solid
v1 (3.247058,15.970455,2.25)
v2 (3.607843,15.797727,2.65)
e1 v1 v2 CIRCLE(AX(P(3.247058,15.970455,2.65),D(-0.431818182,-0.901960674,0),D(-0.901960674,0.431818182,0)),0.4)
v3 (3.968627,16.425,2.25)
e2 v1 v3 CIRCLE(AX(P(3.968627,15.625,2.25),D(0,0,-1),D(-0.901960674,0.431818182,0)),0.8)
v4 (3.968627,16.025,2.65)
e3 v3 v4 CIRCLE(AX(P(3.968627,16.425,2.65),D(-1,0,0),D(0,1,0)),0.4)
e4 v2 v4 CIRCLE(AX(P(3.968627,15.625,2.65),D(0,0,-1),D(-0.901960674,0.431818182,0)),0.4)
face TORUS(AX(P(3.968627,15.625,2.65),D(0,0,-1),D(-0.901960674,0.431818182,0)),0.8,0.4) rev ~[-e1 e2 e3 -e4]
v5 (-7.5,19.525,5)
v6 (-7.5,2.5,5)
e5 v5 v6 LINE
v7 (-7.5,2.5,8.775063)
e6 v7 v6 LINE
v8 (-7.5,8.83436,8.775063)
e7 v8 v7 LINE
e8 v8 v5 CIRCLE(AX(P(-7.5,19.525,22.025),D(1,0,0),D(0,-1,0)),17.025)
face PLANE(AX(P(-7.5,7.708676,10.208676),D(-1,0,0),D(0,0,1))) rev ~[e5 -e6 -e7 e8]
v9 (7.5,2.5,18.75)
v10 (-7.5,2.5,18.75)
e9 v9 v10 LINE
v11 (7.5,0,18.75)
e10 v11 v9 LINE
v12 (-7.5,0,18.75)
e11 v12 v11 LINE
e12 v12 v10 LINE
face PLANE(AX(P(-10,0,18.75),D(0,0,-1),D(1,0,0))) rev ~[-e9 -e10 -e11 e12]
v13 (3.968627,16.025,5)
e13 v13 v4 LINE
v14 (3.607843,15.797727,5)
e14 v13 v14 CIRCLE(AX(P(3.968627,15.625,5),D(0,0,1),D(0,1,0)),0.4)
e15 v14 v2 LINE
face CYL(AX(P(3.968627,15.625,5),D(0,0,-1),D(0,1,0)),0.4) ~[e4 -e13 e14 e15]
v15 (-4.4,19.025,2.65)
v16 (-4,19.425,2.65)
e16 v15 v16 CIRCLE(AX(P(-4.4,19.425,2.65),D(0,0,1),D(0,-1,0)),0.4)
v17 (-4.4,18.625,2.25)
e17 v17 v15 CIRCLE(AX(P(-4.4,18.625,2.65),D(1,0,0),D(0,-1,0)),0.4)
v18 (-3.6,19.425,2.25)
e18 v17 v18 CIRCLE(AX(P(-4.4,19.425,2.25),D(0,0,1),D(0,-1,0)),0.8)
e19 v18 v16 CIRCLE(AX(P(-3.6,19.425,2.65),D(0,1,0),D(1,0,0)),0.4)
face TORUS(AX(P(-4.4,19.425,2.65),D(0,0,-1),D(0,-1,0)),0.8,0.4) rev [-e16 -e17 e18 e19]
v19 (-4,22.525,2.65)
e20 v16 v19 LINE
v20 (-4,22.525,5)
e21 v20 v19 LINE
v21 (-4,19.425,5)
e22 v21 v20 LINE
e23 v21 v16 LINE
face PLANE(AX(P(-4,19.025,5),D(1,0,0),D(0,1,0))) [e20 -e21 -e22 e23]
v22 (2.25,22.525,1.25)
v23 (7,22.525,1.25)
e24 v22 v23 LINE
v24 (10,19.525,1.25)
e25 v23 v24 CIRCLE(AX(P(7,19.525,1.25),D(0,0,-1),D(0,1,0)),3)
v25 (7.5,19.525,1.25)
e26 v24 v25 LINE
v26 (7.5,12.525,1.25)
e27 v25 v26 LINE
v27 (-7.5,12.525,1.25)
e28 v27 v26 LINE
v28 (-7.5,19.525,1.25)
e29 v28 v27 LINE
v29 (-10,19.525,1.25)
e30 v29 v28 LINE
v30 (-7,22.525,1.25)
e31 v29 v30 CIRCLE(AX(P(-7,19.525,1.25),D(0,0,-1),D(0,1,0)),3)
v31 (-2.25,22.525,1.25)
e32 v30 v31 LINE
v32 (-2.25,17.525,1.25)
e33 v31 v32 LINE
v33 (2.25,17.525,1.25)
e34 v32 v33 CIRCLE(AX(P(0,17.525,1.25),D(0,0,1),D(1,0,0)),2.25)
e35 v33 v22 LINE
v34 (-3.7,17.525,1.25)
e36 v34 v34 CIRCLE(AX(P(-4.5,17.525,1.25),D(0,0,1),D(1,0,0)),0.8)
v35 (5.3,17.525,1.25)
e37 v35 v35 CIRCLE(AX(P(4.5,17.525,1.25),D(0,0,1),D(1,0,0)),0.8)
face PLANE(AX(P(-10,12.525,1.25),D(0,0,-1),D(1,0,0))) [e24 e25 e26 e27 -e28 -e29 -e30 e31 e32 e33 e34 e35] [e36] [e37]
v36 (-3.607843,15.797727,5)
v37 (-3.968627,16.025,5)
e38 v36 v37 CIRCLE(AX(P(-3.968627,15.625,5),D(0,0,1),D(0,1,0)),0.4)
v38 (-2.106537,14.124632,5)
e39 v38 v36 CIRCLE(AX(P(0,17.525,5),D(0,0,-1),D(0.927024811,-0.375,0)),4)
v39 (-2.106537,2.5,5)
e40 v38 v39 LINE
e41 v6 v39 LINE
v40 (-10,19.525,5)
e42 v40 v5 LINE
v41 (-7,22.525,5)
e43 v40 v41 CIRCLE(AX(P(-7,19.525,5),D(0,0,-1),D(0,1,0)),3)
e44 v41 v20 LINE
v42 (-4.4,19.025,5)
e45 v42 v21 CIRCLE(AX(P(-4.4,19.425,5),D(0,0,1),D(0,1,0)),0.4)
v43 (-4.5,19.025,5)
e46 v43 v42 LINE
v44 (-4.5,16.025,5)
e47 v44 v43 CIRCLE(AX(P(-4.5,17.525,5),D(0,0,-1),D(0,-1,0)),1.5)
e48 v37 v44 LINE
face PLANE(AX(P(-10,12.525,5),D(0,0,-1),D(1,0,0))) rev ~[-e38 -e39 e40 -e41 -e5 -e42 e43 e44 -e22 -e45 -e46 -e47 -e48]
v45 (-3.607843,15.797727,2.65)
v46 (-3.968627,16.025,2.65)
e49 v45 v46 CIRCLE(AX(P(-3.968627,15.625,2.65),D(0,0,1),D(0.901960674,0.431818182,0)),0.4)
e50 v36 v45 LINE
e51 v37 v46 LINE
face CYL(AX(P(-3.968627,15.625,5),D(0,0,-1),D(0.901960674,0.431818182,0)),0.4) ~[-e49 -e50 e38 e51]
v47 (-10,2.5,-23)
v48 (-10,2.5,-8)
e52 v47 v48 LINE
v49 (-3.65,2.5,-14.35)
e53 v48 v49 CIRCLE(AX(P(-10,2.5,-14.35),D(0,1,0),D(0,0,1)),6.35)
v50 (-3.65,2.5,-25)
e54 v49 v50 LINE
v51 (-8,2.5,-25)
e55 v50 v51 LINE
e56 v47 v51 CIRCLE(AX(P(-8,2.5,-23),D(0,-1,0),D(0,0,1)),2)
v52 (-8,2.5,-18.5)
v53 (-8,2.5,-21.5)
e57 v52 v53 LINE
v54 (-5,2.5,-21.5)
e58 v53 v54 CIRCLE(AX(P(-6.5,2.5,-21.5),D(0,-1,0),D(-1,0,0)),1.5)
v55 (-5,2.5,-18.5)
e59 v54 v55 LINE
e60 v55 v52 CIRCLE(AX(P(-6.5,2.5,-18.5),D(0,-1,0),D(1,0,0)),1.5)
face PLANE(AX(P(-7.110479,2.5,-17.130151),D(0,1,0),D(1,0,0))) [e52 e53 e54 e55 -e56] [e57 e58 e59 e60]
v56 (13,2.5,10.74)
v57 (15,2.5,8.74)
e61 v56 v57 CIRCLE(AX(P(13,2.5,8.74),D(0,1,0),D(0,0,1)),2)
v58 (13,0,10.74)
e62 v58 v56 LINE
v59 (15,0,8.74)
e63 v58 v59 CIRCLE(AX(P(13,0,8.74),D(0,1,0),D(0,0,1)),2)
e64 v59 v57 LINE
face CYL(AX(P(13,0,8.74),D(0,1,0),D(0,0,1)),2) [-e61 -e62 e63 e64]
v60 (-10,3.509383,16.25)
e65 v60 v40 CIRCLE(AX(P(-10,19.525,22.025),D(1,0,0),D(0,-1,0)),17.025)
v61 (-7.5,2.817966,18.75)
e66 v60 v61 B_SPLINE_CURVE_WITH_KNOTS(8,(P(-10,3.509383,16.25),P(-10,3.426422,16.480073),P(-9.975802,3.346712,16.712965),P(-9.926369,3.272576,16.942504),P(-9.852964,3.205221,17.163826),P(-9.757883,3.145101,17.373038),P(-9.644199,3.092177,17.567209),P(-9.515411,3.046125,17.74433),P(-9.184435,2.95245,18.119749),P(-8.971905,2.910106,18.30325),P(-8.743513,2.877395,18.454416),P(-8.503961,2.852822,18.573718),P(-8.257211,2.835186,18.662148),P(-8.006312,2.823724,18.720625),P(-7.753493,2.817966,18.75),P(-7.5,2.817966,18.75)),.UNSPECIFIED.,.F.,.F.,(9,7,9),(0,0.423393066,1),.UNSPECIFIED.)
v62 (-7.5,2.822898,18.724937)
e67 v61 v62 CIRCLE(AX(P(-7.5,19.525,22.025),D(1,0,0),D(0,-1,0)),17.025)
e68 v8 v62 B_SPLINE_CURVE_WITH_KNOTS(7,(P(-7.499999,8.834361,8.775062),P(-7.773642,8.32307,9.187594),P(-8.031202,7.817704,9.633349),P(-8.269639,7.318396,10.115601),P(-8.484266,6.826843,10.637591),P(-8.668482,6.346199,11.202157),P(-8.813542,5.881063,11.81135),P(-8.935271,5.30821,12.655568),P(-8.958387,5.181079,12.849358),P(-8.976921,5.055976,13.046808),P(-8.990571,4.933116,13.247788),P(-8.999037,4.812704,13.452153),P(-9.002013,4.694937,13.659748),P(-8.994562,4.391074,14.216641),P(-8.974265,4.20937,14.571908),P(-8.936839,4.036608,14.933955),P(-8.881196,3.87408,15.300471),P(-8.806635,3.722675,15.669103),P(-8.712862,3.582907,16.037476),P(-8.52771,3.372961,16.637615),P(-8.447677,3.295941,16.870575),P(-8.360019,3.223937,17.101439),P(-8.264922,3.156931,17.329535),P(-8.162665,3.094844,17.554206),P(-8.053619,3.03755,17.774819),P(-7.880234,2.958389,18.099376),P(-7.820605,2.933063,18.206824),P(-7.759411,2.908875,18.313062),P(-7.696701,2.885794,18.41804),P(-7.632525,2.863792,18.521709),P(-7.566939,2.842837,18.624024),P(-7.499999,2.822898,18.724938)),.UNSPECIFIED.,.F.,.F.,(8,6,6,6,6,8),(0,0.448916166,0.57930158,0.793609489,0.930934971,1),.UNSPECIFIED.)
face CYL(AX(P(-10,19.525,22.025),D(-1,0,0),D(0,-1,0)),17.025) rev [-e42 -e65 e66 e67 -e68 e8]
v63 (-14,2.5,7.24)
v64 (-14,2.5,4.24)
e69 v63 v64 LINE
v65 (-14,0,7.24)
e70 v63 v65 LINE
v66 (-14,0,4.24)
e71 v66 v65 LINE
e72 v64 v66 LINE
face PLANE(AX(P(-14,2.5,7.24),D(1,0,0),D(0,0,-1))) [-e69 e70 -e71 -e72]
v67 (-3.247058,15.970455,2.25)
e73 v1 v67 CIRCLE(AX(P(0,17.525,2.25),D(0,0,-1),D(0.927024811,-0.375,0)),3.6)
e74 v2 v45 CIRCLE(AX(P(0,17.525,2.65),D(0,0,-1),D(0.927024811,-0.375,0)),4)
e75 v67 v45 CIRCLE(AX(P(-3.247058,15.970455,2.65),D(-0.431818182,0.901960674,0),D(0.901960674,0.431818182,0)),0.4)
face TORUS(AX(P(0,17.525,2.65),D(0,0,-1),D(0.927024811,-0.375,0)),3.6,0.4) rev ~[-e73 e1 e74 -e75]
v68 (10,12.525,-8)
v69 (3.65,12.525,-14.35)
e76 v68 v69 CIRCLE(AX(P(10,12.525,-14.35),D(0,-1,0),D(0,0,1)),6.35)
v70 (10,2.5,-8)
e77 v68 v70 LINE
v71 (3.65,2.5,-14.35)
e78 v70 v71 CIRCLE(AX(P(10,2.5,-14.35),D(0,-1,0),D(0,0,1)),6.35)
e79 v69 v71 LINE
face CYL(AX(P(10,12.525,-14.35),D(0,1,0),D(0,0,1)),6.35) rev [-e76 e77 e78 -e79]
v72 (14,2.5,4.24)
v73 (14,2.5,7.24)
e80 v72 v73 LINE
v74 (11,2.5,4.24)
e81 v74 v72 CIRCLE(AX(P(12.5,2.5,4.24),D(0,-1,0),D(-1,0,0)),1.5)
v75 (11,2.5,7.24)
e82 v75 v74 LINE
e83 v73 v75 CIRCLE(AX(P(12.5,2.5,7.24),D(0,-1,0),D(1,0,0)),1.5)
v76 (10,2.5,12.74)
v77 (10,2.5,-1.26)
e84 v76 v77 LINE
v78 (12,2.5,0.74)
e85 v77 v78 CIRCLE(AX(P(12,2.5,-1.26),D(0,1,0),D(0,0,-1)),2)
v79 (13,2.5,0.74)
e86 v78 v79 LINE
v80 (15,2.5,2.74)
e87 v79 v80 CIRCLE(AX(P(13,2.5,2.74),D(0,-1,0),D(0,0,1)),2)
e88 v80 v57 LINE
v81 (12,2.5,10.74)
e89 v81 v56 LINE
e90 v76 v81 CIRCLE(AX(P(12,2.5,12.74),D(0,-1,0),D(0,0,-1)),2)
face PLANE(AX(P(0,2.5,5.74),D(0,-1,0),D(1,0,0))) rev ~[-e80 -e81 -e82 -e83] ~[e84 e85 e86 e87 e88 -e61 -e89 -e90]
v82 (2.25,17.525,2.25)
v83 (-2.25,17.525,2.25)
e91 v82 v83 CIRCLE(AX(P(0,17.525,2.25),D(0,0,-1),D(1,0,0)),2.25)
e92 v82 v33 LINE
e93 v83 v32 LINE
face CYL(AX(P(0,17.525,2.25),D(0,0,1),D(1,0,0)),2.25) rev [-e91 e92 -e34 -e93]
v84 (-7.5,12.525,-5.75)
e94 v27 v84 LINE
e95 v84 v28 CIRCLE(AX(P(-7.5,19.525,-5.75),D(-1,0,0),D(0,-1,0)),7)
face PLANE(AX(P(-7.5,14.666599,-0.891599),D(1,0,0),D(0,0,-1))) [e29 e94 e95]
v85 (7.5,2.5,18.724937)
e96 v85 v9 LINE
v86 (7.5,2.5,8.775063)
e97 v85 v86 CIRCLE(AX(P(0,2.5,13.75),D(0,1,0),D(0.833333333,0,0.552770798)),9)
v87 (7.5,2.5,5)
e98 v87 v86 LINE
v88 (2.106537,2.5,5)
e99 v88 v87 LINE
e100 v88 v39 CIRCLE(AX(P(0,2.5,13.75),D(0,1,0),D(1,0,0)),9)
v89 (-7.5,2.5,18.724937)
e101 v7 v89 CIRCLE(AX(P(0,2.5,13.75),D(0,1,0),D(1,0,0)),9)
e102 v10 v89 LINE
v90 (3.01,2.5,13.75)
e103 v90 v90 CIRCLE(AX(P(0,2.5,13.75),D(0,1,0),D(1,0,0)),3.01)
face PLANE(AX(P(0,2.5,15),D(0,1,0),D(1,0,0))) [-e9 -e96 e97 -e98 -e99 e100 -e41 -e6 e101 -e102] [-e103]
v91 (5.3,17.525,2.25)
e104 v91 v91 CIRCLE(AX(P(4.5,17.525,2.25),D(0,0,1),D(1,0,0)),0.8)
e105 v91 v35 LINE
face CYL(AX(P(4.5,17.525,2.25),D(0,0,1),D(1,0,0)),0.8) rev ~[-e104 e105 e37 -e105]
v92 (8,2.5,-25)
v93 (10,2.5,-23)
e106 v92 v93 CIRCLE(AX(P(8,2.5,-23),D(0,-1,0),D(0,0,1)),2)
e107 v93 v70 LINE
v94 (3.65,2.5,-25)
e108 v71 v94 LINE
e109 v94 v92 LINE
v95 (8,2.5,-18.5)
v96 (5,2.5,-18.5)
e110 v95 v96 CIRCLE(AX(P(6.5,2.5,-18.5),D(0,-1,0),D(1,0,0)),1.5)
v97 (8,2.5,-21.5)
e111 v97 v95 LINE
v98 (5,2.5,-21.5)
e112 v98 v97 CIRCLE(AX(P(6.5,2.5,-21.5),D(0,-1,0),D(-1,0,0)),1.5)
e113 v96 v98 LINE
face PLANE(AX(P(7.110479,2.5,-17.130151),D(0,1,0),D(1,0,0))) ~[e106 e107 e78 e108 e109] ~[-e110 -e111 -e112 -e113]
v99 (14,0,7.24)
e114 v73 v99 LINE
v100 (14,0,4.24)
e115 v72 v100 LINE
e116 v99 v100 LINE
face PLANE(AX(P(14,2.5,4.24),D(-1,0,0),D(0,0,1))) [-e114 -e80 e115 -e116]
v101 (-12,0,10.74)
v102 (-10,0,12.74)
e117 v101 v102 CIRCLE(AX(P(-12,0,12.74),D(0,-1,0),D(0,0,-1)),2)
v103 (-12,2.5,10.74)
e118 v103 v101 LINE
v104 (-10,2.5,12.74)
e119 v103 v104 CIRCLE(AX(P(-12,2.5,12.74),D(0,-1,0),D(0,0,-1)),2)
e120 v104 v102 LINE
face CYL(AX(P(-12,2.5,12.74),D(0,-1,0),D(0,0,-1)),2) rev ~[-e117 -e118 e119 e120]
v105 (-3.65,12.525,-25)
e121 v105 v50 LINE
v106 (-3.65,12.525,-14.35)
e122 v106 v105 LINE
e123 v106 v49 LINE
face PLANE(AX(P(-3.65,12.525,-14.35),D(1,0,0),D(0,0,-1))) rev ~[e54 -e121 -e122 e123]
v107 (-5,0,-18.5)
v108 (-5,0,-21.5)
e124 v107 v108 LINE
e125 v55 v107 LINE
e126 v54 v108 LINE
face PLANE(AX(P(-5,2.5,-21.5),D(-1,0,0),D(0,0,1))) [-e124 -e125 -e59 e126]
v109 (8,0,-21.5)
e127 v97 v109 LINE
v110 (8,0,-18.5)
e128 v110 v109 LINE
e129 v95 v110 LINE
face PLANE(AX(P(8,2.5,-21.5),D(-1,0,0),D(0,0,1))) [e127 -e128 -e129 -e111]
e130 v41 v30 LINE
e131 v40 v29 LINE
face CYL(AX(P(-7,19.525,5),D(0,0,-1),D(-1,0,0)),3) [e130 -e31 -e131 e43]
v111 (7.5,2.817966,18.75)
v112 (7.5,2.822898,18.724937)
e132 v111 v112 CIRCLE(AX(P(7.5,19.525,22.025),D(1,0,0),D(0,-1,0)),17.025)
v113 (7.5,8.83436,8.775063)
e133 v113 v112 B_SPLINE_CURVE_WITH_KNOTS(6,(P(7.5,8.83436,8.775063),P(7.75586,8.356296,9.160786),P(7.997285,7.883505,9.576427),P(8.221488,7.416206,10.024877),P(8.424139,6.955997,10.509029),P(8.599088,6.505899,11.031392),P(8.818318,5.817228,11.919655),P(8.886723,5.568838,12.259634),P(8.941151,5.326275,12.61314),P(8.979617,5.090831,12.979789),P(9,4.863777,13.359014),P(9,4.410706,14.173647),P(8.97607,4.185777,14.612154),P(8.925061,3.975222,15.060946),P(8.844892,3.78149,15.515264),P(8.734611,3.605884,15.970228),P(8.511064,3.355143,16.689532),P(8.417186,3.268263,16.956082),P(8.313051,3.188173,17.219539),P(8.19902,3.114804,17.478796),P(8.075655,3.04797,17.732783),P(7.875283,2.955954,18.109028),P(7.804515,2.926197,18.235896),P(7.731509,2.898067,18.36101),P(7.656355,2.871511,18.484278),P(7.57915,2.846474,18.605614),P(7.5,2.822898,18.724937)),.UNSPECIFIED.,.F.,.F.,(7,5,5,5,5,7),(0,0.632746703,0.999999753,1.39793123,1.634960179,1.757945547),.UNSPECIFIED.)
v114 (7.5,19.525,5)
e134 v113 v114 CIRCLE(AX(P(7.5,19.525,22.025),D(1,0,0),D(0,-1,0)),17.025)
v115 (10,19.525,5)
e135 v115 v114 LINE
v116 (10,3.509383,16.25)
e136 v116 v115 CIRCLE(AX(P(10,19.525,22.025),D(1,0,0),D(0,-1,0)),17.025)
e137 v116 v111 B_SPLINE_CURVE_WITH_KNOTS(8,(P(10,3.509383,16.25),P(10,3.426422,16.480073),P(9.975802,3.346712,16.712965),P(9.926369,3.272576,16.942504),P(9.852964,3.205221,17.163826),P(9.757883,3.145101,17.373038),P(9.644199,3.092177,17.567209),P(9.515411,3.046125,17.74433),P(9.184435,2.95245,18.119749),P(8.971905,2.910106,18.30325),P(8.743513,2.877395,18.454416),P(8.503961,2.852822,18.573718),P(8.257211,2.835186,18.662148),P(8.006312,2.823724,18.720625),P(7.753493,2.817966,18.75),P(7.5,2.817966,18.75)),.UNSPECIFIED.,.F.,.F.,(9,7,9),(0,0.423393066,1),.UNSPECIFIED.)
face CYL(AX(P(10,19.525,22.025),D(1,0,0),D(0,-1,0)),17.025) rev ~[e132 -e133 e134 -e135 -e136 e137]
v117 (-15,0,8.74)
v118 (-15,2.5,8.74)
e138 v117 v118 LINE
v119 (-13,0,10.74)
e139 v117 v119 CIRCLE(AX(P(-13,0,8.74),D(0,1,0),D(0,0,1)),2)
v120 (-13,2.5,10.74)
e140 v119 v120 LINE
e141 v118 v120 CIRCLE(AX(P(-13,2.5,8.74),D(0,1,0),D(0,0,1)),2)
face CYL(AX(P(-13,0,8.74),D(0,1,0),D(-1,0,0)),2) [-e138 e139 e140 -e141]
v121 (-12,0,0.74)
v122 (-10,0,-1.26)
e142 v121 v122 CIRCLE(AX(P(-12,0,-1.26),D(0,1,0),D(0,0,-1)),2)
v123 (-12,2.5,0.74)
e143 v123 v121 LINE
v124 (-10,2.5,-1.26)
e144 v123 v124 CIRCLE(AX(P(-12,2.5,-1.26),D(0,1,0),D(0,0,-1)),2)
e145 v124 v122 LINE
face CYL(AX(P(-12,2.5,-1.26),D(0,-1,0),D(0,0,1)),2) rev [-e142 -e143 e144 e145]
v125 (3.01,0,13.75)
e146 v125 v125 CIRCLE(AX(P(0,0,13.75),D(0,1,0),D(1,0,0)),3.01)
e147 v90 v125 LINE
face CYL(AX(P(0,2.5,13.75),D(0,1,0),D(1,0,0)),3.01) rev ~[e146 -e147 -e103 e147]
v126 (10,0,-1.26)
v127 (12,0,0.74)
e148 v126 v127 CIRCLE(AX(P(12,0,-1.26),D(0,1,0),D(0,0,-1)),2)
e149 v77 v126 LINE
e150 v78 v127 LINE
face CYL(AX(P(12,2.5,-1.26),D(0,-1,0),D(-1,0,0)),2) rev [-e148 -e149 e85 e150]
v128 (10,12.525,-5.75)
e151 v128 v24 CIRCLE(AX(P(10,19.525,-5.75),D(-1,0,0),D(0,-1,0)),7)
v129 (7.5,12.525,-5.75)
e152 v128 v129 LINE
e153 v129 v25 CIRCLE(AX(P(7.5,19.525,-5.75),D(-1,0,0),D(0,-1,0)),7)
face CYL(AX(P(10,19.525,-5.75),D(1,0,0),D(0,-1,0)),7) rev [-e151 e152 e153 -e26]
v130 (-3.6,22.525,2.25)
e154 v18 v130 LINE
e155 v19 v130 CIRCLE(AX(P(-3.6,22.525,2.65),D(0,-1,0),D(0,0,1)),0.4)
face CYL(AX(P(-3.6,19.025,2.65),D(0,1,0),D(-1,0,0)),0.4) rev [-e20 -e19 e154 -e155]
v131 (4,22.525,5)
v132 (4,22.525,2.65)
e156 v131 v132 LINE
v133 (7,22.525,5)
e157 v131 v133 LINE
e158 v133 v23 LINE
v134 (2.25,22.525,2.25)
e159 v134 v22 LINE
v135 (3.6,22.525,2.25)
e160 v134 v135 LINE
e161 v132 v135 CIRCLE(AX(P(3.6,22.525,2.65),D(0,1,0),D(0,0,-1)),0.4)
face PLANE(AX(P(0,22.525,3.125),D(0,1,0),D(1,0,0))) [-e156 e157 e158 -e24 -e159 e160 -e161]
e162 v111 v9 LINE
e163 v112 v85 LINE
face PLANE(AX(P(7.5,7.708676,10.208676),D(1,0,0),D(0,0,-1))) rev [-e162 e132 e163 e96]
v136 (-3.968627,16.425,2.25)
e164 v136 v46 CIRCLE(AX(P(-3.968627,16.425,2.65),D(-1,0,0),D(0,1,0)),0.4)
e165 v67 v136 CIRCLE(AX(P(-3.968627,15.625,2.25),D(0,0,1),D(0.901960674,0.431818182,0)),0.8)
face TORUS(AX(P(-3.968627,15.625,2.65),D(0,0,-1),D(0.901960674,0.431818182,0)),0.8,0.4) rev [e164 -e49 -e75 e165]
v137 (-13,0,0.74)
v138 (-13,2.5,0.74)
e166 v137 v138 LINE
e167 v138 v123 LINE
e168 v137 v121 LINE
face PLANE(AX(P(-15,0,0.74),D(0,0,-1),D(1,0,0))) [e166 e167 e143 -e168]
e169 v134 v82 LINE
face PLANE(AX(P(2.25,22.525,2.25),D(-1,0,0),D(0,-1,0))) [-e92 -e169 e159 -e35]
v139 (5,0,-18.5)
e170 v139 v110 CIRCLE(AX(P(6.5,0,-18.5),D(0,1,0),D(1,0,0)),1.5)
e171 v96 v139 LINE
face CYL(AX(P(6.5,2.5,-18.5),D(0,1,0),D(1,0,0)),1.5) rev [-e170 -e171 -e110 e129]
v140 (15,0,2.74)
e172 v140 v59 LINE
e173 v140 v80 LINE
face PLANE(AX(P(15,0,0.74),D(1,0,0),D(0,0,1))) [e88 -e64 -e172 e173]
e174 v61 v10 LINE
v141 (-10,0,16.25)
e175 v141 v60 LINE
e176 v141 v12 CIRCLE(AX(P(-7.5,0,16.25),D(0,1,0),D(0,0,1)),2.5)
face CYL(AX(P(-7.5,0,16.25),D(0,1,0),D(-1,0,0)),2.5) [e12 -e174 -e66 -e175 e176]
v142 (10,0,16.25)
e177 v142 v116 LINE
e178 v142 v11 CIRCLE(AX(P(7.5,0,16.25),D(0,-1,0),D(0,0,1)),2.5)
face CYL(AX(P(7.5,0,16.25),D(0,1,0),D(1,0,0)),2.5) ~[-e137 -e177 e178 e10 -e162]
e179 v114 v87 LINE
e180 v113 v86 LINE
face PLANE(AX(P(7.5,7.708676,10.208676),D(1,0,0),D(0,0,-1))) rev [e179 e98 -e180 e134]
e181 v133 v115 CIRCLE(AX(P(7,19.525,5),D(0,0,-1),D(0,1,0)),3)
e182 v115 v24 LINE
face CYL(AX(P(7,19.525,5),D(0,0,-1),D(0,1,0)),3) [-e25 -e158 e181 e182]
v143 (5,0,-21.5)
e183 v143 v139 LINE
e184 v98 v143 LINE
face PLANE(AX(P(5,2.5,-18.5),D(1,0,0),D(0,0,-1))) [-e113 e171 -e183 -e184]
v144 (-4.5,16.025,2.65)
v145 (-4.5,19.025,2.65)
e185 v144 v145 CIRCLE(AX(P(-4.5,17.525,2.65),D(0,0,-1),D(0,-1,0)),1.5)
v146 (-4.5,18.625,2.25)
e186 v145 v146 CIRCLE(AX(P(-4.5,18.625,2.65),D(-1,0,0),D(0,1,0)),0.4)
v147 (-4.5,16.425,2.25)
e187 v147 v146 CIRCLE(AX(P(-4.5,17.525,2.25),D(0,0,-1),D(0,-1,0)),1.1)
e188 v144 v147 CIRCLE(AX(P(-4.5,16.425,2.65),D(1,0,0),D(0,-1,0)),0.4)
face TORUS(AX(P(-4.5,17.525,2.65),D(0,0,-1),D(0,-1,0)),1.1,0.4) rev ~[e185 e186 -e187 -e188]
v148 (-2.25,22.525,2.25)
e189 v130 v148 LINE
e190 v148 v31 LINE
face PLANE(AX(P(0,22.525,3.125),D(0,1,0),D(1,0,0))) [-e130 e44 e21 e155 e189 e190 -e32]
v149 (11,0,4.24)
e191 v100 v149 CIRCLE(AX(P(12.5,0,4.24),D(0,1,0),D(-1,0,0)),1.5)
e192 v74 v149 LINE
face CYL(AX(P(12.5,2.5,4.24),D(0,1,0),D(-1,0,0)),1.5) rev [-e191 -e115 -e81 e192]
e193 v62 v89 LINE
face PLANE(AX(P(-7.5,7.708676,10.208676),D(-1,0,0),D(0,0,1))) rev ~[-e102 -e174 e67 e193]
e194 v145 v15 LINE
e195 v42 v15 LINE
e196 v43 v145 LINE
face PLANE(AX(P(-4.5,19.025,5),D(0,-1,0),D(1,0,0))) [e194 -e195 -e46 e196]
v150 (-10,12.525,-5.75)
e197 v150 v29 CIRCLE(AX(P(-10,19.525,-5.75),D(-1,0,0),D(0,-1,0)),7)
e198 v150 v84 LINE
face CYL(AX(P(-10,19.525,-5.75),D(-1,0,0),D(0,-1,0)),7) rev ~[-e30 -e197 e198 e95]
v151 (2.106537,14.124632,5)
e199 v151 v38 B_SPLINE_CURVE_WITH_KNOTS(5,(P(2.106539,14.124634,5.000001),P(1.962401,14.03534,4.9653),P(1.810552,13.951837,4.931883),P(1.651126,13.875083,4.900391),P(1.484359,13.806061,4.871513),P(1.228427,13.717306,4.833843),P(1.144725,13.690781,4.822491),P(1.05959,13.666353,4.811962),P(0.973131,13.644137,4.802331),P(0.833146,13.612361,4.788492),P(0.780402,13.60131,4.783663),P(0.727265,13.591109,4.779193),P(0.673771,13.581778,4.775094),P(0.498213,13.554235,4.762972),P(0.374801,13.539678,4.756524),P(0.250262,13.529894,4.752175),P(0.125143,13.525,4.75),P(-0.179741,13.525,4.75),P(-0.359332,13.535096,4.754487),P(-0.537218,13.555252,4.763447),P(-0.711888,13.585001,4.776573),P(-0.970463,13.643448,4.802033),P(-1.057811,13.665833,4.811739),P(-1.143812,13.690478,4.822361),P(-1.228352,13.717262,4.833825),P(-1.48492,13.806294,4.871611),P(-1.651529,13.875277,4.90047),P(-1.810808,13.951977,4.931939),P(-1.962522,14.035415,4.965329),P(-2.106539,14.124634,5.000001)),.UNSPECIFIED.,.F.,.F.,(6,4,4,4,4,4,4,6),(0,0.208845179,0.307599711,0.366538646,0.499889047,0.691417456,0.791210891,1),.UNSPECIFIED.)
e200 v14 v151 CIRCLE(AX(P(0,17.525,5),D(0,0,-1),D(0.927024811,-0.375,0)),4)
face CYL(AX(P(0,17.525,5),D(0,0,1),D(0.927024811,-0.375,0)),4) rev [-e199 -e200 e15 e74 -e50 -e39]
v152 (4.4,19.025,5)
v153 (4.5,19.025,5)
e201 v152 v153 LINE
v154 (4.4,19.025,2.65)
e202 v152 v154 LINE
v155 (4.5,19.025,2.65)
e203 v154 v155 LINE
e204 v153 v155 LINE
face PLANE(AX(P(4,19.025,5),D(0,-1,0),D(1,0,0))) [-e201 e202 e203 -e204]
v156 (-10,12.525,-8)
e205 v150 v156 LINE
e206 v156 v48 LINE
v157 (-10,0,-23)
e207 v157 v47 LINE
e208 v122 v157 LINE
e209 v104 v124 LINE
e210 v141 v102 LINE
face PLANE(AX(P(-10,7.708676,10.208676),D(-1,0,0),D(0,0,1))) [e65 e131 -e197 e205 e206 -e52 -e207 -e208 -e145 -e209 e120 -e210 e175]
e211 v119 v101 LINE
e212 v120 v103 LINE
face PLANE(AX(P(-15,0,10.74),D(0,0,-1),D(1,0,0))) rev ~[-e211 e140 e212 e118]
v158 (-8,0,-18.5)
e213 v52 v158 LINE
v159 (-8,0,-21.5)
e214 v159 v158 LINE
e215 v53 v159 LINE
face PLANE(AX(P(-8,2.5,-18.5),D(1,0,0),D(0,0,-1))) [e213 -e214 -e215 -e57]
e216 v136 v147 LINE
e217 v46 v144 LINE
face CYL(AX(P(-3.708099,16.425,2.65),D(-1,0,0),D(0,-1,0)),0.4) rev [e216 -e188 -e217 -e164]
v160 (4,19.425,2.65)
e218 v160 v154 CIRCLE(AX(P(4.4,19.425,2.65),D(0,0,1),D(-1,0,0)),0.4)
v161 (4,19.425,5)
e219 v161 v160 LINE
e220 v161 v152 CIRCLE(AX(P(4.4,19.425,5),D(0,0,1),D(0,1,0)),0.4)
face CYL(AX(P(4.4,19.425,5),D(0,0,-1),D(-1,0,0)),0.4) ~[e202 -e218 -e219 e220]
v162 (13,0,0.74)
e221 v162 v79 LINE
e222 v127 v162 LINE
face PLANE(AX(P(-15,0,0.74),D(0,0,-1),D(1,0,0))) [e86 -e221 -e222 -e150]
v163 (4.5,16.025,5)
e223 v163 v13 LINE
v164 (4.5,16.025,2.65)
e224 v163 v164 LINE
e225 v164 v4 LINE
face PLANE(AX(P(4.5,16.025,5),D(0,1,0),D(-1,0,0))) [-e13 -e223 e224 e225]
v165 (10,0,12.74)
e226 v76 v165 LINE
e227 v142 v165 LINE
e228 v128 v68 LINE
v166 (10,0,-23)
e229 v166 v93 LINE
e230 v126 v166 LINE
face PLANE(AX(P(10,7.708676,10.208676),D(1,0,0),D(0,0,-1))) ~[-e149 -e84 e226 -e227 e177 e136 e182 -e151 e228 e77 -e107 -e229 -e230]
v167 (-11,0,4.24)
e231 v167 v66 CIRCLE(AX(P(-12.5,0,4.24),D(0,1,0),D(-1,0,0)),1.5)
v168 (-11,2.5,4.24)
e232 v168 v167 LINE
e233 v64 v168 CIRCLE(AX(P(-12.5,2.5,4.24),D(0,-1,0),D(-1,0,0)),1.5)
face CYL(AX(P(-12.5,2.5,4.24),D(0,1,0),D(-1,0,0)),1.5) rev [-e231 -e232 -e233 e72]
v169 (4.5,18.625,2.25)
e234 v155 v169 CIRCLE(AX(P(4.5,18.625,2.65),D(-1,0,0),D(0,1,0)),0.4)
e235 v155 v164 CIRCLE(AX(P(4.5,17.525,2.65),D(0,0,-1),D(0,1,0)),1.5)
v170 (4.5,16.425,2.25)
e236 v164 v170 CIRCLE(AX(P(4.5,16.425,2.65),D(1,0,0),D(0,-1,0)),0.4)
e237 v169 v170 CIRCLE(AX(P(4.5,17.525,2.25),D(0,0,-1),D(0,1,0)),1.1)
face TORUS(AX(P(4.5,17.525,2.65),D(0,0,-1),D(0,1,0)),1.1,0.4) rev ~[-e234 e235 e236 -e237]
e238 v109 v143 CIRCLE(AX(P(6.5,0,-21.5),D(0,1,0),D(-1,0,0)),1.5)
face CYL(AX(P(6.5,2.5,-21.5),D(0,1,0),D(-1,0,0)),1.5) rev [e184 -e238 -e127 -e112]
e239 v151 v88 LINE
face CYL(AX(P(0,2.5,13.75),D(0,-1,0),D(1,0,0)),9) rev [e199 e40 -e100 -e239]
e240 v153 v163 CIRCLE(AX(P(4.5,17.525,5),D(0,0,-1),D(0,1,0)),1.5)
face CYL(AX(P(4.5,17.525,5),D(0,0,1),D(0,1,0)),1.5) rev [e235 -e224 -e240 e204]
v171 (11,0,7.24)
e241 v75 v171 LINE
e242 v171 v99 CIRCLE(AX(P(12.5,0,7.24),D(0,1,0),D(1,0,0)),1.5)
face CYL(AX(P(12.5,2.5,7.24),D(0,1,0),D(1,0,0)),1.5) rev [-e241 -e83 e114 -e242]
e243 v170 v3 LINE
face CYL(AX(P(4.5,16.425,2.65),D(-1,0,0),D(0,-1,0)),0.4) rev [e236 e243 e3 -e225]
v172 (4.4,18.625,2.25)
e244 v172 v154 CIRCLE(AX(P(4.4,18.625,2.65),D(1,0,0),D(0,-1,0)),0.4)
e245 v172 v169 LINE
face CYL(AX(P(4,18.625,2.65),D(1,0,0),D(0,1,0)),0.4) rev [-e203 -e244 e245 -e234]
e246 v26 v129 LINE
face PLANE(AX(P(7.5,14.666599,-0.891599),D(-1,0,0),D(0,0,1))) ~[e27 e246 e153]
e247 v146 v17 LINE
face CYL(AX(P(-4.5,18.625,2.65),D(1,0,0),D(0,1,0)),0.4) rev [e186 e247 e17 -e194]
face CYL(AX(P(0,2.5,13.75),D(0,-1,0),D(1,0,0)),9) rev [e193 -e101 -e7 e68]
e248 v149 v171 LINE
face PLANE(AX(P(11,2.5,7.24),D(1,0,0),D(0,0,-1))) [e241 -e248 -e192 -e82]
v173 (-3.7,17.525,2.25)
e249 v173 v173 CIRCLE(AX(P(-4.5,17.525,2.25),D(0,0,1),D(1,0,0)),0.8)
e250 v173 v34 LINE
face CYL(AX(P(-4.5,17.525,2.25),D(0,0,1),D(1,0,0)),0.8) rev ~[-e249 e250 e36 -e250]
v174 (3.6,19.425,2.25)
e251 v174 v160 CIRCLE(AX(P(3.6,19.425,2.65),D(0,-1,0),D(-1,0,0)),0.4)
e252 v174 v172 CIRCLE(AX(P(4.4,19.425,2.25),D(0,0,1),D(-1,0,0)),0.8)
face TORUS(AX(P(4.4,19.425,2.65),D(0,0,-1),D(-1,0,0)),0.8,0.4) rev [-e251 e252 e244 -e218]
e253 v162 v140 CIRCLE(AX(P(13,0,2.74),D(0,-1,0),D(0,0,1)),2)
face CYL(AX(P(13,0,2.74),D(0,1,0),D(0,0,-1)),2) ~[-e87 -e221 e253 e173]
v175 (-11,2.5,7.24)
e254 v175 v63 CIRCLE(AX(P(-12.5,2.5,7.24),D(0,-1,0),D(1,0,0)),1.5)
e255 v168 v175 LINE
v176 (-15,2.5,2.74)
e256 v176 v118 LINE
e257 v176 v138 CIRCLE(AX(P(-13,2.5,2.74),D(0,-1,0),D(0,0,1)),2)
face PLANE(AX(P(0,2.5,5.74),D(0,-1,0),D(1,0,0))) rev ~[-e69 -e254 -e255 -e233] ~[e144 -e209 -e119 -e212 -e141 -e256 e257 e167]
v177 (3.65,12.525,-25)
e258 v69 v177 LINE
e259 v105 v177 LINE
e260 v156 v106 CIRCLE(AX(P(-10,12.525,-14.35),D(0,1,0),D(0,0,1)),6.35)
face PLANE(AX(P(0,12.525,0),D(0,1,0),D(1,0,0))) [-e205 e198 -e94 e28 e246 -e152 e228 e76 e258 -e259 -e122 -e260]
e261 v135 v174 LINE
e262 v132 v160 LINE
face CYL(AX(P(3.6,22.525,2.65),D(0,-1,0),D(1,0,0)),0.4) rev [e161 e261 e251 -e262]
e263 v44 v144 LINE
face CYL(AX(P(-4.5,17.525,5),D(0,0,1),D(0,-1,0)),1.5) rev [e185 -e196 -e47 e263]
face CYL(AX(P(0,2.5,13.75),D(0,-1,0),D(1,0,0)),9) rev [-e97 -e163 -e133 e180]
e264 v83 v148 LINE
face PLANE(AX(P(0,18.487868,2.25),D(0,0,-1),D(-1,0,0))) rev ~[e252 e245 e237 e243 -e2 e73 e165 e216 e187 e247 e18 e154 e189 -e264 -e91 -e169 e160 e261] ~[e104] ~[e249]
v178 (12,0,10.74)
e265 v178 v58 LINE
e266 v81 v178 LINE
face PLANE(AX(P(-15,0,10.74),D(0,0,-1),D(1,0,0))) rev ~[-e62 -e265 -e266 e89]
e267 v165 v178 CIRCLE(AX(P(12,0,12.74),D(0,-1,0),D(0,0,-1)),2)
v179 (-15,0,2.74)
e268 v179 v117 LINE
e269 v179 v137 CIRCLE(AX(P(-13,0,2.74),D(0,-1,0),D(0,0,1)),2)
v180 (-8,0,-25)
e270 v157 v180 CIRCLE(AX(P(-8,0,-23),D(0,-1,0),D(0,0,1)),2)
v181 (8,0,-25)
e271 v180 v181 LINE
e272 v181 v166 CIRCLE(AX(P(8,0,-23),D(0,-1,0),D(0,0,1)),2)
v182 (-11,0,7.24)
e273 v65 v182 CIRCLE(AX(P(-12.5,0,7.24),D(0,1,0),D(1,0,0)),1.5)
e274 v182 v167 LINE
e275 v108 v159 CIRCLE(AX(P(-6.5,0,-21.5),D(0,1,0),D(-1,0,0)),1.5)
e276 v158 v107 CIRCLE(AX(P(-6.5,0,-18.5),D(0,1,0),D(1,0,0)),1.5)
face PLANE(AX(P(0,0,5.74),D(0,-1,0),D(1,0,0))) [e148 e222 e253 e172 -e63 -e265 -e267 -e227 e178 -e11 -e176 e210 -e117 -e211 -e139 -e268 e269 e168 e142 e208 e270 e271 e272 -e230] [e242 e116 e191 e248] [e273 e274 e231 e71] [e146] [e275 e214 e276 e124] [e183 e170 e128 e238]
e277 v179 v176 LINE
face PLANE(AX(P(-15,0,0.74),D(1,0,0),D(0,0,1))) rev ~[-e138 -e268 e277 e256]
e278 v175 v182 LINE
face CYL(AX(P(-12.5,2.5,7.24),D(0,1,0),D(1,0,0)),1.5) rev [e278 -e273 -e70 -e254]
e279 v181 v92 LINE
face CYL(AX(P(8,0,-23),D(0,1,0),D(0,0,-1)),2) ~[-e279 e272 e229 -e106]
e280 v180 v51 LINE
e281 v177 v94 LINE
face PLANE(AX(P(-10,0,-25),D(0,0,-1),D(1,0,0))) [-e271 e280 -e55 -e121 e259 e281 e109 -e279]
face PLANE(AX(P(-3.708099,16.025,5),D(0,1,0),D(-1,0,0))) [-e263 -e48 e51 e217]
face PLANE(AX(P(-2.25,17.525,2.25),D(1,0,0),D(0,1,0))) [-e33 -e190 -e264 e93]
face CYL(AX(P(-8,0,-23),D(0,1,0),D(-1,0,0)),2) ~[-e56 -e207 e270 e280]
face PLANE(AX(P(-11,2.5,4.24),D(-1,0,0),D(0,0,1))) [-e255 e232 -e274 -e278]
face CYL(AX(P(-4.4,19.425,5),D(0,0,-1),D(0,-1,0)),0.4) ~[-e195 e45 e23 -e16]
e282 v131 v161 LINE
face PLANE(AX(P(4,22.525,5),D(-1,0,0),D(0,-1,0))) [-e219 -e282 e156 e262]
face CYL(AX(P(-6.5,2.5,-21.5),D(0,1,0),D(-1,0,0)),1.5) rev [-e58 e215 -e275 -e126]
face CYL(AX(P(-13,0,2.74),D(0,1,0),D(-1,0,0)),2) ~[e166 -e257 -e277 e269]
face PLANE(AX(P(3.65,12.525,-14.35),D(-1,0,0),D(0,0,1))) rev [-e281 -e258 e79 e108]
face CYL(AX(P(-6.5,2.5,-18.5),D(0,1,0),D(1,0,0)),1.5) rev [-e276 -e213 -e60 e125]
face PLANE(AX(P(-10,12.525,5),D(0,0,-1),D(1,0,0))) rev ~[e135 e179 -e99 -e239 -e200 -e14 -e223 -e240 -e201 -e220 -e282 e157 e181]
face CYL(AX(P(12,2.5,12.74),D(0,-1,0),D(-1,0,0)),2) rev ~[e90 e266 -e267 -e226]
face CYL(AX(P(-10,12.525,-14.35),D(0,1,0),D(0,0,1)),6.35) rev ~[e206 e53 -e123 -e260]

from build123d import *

# Parameters (mm, degrees)
SKETCH1_W           = 20
SKETCH1_H           = 50
BOSS_EXTRUDE1_DEPTH = 12.525
SKETCH2_W           = 20
SKETCH2_H           = 3.75
BOSS_EXTRUDE2_DEPTH = 10
CUT_EXTRUDE1_DEPTH  = 2.75
SKETCH5_R           = 0.8
CUT_EXTRUDE2_DEPTH  = 28.25
FILLET1_R           = 0.4
FILLET2_R           = 3
SKETCH6_W           = 20
SKETCH6_H           = 20
CUT_EXTRUDE3_DEPTH  = 10.025
SKETCH7_R           = 3.01
CUT_EXTRUDE4_DEPTH  = 3.5
BOSS_EXTRUDE3_DEPTH = 2.5
CUT_EXTRUDE6_DEPTH  = 10.025
SKETCH13_W          = 20
SKETCH13_H          = 6.249999854
CUT_EXTRUDE8_DEPTH  = 23.525
SKETCH14_W          = 30
SKETCH14_H          = 10
BOSS_EXTRUDE4_DEPTH = 2.5
CUT_EXTRUDE7_DEPTH  = 3.5
FILLET3_R           = 2
FILLET4_R           = 2.5
SKETCH15_R          = 9
CUT_EXTRUDE10_DEPTH = 21.025


with BuildPart() as part:
    # Sketch1 → Boss-Extrude1 (new body)
    with BuildSketch(Plane(origin=(0, 0, 0), x_dir=(1, 0, 0), z_dir=(0, 1, 0))):
        Rectangle(SKETCH1_W, SKETCH1_H)
    extrude(amount=BOSS_EXTRUDE1_DEPTH)

    # Sketch2 → Boss-Extrude2 (add)
    with BuildSketch(Plane(origin=(0, 12.525, 0), x_dir=(1, 0, 0), z_dir=(0, 1, 0))):
        with Locations((0, -3.125)):
            Rectangle(SKETCH2_W, SKETCH2_H)
    extrude(amount=BOSS_EXTRUDE2_DEPTH)

    # Sketch3 → Cut-Extrude1 (cut)
    with BuildSketch(Plane.XY.offset(5)):
        with BuildLine():
            Line((-4, 19.025), (-4, 22.525))
            Line((-4, 22.525), (4, 22.525))
            Line((4, 22.525), (4, 19.025))
            Line((4, 19.025), (4.5, 19.025))
            ThreePointArc((4.5, 19.025), (6, 17.525), (4.5, 16.025))
            Line((4.5, 16.025), (3.708099244, 16.025))
            ThreePointArc((3.708099244, 16.025), (0, 13.525), (-3.708099244, 16.025))
            Line((-3.708099244, 16.025), (-4.5, 16.025))
            ThreePointArc((-4.5, 16.025), (-6, 17.525), (-4.5, 19.025))
            Line((-4.5, 19.025), (-4, 19.025))
        make_face()
    extrude(amount=-CUT_EXTRUDE1_DEPTH, mode=Mode.SUBTRACT)

    # Sketch5 → Cut-Extrude2 (cut, through all)
    with BuildSketch(Plane.XY.offset(2.25)):
        with Locations((-4.5, 17.525)):
            Circle(SKETCH5_R)
        with Locations((4.5, 17.525)):
            Circle(SKETCH5_R)
        with BuildLine():
            Line((-2.25, 17.525), (-2.25, 22.525))
            Line((-2.25, 22.525), (2.25, 22.525))
            Line((2.25, 22.525), (2.25, 17.525))
            ThreePointArc((2.25, 17.525), (0, 15.275), (-2.25, 17.525))
        make_face()
    extrude(amount=-CUT_EXTRUDE2_DEPTH, mode=Mode.SUBTRACT)

    # Fillet1
    fillet1_edges = [part.edges().sort_by_distance(p)[0] for p in [
        (3.708099244, 16.025, 3.625),
        (-3.708099244, 16.025, 3.625),
        (-4, 19.025, 3.625),
        (4, 19.025, 3.625),
        (0, 13.525, 2.25),
        (-4.104049622, 16.025, 2.25),
        (-6, 17.525, 2.25),
        (-4.25, 19.025, 2.25),
        (-4, 20.775, 2.25),
        (4, 20.775, 2.25),
        (4.25, 19.025, 2.25),
        (6, 17.525, 2.25),
        (4.104049622, 16.025, 2.25),
    ]]
    fillet(fillet1_edges, radius=FILLET1_R)

    # Fillet2
    fillet2_edges = [part.edges().sort_by_distance(p)[0] for p in [
        (10, 22.525, 3.125),
        (-10, 22.525, 3.125),
    ]]
    fillet(fillet2_edges, radius=FILLET2_R)

    # Sketch6 → Cut-Extrude3 (cut)
    with BuildSketch(Plane(origin=(0, 12.525, 0), x_dir=(1, 0, 0), z_dir=(0, 1, 0))):
        with Locations((0, -15)):
            Rectangle(SKETCH6_W, SKETCH6_H)
    extrude(amount=-CUT_EXTRUDE3_DEPTH, mode=Mode.SUBTRACT)

    # Sketch7 → Cut-Extrude4 (cut, through all)
    with BuildSketch(Plane(origin=(0, 2.5, 0), x_dir=(1, 0, 0), z_dir=(0, 1, 0))):
        with Locations((0, -13.750000146)):
            Circle(SKETCH7_R)
    extrude(amount=-CUT_EXTRUDE4_DEPTH, mode=Mode.SUBTRACT)

    # Sketch8 → Boss-Extrude3 (add)
    with BuildSketch(Plane.ZY.offset(10)):
        with BuildLine():
            Line((5, 2.5), (22.025, 2.5))
            ThreePointArc((22.025, 2.5), (9.98650705, 7.48650705), (5, 19.525))
            Line((5, 19.525), (5, 2.5))
        make_face()
        with BuildLine():
            Line((1.25, 12.525), (-5.75, 12.525))
            ThreePointArc((-5.75, 12.525), (-0.800252532, 14.575252532), (1.25, 19.525))
            Line((1.25, 19.525), (1.25, 12.525))
        make_face()
    boss_extrude3 = extrude(amount=-BOSS_EXTRUDE3_DEPTH)

    # Sketch11 → Cut-Extrude6 (cut)
    with BuildSketch(Plane(origin=(0, 12.525, 0), x_dir=(1, 0, 0), z_dir=(0, 1, 0))):
        with BuildLine():
            Line((-3.65, 25), (-10, 25))
            Line((-10, 25), (-10, 8))
            ThreePointArc((-10, 8), (-5.509871939, 9.859871939), (-3.65, 14.35))
            Line((-3.65, 14.35), (-3.65, 25))
        make_face()
    cut_extrude6 = extrude(amount=-CUT_EXTRUDE6_DEPTH, mode=Mode.SUBTRACT)

    # Mirror1: Boss-Extrude3, Cut-Extrude6 across plane
    add(boss_extrude3.mirror(Plane(origin=(0, 0, 0), x_dir=(0, 0, 1), z_dir=(1, 0, 0))))
    add(cut_extrude6.mirror(Plane(origin=(0, 0, 0), x_dir=(0, 0, 1), z_dir=(1, 0, 0))), mode=Mode.SUBTRACT)

    # Sketch13 → Cut-Extrude8 (cut, through all)
    with BuildSketch(Plane.XZ):
        with Locations((0, 21.875000073)):
            Rectangle(SKETCH13_W, SKETCH13_H)
    extrude(amount=-CUT_EXTRUDE8_DEPTH, mode=Mode.SUBTRACT)

    # Sketch14 → Boss-Extrude4 (add)
    with BuildSketch(Plane.XZ):
        with Locations((0, 5.740000146)):
            Rectangle(SKETCH14_W, SKETCH14_H)
    extrude(amount=-BOSS_EXTRUDE4_DEPTH)

    # Sketch12 → Cut-Extrude7 (cut, through all)
    with BuildSketch(Plane(origin=(0, 2.5, 0), x_dir=(1, 0, 0), z_dir=(0, 1, 0))):
        with BuildLine():
            Line((-5, 21.5), (-5, 18.5))
            ThreePointArc((-5, 18.5), (-6.5, 17), (-8, 18.5))
            Line((-8, 18.5), (-8, 21.5))
            ThreePointArc((-8, 21.5), (-6.5, 23), (-5, 21.5))
        make_face()
        with BuildLine():
            Line((8, 21.5), (8, 18.5))
            ThreePointArc((8, 18.5), (6.5, 17), (5, 18.5))
            Line((5, 18.5), (5, 21.5))
            ThreePointArc((5, 21.5), (6.5, 23), (8, 21.5))
        make_face()
        with BuildLine():
            Line((-14, -7.240000146), (-14, -4.240000146))
            ThreePointArc((-14, -4.240000146), (-12.5, -2.740000146), (-11, -4.240000146))
            Line((-11, -4.240000146), (-11, -7.240000146))
            ThreePointArc((-11, -7.240000146), (-12.5, -8.740000146), (-14, -7.240000146))
        make_face()
        with BuildLine():
            Line((11, -7.240000146), (11, -4.240000146))
            ThreePointArc((11, -4.240000146), (12.5, -2.740000146), (14, -4.240000146))
            Line((14, -4.240000146), (14, -7.240000146))
            ThreePointArc((14, -7.240000146), (12.5, -8.740000146), (11, -7.240000146))
        make_face()
    extrude(amount=-CUT_EXTRUDE7_DEPTH, mode=Mode.SUBTRACT)

    # Fillet3
    fillet3_edges = [part.edges().sort_by_distance(p)[0] for p in [
        (-10, 1.25, -25),
        (10, 1.25, -25),
        (15, 1.25, 0.740000146),
        (-15, 1.25, 10.740000146),
        (-10, 1.25, 10.740000146),
        (10, 1.25, 10.740000146),
        (-15, 1.25, 0.740000146),
        (10, 1.25, 0.740000146),
        (-10, 1.25, 0.740000146),
        (15, 1.25, 10.740000146),
    ]]
    fillet(fillet3_edges, radius=FILLET3_R)

    # Fillet4
    fillet4_edges = [part.edges().sort_by_distance(p)[0] for p in [
        (10, 1.408982762, 18.750000146),
        (-10, 1.408982762, 18.750000146),
    ]]
    fillet(fillet4_edges, radius=FILLET4_R)

    # Sketch15 → Cut-Extrude10 (cut, through all)
    with BuildSketch(Plane(origin=(0, 2.5, 0), x_dir=(1, 0, 0), z_dir=(0, 1, 0))):
        with Locations((0, -13.750000146)):
            Circle(SKETCH15_R)
    extrude(amount=CUT_EXTRUDE10_DEPTH, mode=Mode.SUBTRACT)


solid = part.part
